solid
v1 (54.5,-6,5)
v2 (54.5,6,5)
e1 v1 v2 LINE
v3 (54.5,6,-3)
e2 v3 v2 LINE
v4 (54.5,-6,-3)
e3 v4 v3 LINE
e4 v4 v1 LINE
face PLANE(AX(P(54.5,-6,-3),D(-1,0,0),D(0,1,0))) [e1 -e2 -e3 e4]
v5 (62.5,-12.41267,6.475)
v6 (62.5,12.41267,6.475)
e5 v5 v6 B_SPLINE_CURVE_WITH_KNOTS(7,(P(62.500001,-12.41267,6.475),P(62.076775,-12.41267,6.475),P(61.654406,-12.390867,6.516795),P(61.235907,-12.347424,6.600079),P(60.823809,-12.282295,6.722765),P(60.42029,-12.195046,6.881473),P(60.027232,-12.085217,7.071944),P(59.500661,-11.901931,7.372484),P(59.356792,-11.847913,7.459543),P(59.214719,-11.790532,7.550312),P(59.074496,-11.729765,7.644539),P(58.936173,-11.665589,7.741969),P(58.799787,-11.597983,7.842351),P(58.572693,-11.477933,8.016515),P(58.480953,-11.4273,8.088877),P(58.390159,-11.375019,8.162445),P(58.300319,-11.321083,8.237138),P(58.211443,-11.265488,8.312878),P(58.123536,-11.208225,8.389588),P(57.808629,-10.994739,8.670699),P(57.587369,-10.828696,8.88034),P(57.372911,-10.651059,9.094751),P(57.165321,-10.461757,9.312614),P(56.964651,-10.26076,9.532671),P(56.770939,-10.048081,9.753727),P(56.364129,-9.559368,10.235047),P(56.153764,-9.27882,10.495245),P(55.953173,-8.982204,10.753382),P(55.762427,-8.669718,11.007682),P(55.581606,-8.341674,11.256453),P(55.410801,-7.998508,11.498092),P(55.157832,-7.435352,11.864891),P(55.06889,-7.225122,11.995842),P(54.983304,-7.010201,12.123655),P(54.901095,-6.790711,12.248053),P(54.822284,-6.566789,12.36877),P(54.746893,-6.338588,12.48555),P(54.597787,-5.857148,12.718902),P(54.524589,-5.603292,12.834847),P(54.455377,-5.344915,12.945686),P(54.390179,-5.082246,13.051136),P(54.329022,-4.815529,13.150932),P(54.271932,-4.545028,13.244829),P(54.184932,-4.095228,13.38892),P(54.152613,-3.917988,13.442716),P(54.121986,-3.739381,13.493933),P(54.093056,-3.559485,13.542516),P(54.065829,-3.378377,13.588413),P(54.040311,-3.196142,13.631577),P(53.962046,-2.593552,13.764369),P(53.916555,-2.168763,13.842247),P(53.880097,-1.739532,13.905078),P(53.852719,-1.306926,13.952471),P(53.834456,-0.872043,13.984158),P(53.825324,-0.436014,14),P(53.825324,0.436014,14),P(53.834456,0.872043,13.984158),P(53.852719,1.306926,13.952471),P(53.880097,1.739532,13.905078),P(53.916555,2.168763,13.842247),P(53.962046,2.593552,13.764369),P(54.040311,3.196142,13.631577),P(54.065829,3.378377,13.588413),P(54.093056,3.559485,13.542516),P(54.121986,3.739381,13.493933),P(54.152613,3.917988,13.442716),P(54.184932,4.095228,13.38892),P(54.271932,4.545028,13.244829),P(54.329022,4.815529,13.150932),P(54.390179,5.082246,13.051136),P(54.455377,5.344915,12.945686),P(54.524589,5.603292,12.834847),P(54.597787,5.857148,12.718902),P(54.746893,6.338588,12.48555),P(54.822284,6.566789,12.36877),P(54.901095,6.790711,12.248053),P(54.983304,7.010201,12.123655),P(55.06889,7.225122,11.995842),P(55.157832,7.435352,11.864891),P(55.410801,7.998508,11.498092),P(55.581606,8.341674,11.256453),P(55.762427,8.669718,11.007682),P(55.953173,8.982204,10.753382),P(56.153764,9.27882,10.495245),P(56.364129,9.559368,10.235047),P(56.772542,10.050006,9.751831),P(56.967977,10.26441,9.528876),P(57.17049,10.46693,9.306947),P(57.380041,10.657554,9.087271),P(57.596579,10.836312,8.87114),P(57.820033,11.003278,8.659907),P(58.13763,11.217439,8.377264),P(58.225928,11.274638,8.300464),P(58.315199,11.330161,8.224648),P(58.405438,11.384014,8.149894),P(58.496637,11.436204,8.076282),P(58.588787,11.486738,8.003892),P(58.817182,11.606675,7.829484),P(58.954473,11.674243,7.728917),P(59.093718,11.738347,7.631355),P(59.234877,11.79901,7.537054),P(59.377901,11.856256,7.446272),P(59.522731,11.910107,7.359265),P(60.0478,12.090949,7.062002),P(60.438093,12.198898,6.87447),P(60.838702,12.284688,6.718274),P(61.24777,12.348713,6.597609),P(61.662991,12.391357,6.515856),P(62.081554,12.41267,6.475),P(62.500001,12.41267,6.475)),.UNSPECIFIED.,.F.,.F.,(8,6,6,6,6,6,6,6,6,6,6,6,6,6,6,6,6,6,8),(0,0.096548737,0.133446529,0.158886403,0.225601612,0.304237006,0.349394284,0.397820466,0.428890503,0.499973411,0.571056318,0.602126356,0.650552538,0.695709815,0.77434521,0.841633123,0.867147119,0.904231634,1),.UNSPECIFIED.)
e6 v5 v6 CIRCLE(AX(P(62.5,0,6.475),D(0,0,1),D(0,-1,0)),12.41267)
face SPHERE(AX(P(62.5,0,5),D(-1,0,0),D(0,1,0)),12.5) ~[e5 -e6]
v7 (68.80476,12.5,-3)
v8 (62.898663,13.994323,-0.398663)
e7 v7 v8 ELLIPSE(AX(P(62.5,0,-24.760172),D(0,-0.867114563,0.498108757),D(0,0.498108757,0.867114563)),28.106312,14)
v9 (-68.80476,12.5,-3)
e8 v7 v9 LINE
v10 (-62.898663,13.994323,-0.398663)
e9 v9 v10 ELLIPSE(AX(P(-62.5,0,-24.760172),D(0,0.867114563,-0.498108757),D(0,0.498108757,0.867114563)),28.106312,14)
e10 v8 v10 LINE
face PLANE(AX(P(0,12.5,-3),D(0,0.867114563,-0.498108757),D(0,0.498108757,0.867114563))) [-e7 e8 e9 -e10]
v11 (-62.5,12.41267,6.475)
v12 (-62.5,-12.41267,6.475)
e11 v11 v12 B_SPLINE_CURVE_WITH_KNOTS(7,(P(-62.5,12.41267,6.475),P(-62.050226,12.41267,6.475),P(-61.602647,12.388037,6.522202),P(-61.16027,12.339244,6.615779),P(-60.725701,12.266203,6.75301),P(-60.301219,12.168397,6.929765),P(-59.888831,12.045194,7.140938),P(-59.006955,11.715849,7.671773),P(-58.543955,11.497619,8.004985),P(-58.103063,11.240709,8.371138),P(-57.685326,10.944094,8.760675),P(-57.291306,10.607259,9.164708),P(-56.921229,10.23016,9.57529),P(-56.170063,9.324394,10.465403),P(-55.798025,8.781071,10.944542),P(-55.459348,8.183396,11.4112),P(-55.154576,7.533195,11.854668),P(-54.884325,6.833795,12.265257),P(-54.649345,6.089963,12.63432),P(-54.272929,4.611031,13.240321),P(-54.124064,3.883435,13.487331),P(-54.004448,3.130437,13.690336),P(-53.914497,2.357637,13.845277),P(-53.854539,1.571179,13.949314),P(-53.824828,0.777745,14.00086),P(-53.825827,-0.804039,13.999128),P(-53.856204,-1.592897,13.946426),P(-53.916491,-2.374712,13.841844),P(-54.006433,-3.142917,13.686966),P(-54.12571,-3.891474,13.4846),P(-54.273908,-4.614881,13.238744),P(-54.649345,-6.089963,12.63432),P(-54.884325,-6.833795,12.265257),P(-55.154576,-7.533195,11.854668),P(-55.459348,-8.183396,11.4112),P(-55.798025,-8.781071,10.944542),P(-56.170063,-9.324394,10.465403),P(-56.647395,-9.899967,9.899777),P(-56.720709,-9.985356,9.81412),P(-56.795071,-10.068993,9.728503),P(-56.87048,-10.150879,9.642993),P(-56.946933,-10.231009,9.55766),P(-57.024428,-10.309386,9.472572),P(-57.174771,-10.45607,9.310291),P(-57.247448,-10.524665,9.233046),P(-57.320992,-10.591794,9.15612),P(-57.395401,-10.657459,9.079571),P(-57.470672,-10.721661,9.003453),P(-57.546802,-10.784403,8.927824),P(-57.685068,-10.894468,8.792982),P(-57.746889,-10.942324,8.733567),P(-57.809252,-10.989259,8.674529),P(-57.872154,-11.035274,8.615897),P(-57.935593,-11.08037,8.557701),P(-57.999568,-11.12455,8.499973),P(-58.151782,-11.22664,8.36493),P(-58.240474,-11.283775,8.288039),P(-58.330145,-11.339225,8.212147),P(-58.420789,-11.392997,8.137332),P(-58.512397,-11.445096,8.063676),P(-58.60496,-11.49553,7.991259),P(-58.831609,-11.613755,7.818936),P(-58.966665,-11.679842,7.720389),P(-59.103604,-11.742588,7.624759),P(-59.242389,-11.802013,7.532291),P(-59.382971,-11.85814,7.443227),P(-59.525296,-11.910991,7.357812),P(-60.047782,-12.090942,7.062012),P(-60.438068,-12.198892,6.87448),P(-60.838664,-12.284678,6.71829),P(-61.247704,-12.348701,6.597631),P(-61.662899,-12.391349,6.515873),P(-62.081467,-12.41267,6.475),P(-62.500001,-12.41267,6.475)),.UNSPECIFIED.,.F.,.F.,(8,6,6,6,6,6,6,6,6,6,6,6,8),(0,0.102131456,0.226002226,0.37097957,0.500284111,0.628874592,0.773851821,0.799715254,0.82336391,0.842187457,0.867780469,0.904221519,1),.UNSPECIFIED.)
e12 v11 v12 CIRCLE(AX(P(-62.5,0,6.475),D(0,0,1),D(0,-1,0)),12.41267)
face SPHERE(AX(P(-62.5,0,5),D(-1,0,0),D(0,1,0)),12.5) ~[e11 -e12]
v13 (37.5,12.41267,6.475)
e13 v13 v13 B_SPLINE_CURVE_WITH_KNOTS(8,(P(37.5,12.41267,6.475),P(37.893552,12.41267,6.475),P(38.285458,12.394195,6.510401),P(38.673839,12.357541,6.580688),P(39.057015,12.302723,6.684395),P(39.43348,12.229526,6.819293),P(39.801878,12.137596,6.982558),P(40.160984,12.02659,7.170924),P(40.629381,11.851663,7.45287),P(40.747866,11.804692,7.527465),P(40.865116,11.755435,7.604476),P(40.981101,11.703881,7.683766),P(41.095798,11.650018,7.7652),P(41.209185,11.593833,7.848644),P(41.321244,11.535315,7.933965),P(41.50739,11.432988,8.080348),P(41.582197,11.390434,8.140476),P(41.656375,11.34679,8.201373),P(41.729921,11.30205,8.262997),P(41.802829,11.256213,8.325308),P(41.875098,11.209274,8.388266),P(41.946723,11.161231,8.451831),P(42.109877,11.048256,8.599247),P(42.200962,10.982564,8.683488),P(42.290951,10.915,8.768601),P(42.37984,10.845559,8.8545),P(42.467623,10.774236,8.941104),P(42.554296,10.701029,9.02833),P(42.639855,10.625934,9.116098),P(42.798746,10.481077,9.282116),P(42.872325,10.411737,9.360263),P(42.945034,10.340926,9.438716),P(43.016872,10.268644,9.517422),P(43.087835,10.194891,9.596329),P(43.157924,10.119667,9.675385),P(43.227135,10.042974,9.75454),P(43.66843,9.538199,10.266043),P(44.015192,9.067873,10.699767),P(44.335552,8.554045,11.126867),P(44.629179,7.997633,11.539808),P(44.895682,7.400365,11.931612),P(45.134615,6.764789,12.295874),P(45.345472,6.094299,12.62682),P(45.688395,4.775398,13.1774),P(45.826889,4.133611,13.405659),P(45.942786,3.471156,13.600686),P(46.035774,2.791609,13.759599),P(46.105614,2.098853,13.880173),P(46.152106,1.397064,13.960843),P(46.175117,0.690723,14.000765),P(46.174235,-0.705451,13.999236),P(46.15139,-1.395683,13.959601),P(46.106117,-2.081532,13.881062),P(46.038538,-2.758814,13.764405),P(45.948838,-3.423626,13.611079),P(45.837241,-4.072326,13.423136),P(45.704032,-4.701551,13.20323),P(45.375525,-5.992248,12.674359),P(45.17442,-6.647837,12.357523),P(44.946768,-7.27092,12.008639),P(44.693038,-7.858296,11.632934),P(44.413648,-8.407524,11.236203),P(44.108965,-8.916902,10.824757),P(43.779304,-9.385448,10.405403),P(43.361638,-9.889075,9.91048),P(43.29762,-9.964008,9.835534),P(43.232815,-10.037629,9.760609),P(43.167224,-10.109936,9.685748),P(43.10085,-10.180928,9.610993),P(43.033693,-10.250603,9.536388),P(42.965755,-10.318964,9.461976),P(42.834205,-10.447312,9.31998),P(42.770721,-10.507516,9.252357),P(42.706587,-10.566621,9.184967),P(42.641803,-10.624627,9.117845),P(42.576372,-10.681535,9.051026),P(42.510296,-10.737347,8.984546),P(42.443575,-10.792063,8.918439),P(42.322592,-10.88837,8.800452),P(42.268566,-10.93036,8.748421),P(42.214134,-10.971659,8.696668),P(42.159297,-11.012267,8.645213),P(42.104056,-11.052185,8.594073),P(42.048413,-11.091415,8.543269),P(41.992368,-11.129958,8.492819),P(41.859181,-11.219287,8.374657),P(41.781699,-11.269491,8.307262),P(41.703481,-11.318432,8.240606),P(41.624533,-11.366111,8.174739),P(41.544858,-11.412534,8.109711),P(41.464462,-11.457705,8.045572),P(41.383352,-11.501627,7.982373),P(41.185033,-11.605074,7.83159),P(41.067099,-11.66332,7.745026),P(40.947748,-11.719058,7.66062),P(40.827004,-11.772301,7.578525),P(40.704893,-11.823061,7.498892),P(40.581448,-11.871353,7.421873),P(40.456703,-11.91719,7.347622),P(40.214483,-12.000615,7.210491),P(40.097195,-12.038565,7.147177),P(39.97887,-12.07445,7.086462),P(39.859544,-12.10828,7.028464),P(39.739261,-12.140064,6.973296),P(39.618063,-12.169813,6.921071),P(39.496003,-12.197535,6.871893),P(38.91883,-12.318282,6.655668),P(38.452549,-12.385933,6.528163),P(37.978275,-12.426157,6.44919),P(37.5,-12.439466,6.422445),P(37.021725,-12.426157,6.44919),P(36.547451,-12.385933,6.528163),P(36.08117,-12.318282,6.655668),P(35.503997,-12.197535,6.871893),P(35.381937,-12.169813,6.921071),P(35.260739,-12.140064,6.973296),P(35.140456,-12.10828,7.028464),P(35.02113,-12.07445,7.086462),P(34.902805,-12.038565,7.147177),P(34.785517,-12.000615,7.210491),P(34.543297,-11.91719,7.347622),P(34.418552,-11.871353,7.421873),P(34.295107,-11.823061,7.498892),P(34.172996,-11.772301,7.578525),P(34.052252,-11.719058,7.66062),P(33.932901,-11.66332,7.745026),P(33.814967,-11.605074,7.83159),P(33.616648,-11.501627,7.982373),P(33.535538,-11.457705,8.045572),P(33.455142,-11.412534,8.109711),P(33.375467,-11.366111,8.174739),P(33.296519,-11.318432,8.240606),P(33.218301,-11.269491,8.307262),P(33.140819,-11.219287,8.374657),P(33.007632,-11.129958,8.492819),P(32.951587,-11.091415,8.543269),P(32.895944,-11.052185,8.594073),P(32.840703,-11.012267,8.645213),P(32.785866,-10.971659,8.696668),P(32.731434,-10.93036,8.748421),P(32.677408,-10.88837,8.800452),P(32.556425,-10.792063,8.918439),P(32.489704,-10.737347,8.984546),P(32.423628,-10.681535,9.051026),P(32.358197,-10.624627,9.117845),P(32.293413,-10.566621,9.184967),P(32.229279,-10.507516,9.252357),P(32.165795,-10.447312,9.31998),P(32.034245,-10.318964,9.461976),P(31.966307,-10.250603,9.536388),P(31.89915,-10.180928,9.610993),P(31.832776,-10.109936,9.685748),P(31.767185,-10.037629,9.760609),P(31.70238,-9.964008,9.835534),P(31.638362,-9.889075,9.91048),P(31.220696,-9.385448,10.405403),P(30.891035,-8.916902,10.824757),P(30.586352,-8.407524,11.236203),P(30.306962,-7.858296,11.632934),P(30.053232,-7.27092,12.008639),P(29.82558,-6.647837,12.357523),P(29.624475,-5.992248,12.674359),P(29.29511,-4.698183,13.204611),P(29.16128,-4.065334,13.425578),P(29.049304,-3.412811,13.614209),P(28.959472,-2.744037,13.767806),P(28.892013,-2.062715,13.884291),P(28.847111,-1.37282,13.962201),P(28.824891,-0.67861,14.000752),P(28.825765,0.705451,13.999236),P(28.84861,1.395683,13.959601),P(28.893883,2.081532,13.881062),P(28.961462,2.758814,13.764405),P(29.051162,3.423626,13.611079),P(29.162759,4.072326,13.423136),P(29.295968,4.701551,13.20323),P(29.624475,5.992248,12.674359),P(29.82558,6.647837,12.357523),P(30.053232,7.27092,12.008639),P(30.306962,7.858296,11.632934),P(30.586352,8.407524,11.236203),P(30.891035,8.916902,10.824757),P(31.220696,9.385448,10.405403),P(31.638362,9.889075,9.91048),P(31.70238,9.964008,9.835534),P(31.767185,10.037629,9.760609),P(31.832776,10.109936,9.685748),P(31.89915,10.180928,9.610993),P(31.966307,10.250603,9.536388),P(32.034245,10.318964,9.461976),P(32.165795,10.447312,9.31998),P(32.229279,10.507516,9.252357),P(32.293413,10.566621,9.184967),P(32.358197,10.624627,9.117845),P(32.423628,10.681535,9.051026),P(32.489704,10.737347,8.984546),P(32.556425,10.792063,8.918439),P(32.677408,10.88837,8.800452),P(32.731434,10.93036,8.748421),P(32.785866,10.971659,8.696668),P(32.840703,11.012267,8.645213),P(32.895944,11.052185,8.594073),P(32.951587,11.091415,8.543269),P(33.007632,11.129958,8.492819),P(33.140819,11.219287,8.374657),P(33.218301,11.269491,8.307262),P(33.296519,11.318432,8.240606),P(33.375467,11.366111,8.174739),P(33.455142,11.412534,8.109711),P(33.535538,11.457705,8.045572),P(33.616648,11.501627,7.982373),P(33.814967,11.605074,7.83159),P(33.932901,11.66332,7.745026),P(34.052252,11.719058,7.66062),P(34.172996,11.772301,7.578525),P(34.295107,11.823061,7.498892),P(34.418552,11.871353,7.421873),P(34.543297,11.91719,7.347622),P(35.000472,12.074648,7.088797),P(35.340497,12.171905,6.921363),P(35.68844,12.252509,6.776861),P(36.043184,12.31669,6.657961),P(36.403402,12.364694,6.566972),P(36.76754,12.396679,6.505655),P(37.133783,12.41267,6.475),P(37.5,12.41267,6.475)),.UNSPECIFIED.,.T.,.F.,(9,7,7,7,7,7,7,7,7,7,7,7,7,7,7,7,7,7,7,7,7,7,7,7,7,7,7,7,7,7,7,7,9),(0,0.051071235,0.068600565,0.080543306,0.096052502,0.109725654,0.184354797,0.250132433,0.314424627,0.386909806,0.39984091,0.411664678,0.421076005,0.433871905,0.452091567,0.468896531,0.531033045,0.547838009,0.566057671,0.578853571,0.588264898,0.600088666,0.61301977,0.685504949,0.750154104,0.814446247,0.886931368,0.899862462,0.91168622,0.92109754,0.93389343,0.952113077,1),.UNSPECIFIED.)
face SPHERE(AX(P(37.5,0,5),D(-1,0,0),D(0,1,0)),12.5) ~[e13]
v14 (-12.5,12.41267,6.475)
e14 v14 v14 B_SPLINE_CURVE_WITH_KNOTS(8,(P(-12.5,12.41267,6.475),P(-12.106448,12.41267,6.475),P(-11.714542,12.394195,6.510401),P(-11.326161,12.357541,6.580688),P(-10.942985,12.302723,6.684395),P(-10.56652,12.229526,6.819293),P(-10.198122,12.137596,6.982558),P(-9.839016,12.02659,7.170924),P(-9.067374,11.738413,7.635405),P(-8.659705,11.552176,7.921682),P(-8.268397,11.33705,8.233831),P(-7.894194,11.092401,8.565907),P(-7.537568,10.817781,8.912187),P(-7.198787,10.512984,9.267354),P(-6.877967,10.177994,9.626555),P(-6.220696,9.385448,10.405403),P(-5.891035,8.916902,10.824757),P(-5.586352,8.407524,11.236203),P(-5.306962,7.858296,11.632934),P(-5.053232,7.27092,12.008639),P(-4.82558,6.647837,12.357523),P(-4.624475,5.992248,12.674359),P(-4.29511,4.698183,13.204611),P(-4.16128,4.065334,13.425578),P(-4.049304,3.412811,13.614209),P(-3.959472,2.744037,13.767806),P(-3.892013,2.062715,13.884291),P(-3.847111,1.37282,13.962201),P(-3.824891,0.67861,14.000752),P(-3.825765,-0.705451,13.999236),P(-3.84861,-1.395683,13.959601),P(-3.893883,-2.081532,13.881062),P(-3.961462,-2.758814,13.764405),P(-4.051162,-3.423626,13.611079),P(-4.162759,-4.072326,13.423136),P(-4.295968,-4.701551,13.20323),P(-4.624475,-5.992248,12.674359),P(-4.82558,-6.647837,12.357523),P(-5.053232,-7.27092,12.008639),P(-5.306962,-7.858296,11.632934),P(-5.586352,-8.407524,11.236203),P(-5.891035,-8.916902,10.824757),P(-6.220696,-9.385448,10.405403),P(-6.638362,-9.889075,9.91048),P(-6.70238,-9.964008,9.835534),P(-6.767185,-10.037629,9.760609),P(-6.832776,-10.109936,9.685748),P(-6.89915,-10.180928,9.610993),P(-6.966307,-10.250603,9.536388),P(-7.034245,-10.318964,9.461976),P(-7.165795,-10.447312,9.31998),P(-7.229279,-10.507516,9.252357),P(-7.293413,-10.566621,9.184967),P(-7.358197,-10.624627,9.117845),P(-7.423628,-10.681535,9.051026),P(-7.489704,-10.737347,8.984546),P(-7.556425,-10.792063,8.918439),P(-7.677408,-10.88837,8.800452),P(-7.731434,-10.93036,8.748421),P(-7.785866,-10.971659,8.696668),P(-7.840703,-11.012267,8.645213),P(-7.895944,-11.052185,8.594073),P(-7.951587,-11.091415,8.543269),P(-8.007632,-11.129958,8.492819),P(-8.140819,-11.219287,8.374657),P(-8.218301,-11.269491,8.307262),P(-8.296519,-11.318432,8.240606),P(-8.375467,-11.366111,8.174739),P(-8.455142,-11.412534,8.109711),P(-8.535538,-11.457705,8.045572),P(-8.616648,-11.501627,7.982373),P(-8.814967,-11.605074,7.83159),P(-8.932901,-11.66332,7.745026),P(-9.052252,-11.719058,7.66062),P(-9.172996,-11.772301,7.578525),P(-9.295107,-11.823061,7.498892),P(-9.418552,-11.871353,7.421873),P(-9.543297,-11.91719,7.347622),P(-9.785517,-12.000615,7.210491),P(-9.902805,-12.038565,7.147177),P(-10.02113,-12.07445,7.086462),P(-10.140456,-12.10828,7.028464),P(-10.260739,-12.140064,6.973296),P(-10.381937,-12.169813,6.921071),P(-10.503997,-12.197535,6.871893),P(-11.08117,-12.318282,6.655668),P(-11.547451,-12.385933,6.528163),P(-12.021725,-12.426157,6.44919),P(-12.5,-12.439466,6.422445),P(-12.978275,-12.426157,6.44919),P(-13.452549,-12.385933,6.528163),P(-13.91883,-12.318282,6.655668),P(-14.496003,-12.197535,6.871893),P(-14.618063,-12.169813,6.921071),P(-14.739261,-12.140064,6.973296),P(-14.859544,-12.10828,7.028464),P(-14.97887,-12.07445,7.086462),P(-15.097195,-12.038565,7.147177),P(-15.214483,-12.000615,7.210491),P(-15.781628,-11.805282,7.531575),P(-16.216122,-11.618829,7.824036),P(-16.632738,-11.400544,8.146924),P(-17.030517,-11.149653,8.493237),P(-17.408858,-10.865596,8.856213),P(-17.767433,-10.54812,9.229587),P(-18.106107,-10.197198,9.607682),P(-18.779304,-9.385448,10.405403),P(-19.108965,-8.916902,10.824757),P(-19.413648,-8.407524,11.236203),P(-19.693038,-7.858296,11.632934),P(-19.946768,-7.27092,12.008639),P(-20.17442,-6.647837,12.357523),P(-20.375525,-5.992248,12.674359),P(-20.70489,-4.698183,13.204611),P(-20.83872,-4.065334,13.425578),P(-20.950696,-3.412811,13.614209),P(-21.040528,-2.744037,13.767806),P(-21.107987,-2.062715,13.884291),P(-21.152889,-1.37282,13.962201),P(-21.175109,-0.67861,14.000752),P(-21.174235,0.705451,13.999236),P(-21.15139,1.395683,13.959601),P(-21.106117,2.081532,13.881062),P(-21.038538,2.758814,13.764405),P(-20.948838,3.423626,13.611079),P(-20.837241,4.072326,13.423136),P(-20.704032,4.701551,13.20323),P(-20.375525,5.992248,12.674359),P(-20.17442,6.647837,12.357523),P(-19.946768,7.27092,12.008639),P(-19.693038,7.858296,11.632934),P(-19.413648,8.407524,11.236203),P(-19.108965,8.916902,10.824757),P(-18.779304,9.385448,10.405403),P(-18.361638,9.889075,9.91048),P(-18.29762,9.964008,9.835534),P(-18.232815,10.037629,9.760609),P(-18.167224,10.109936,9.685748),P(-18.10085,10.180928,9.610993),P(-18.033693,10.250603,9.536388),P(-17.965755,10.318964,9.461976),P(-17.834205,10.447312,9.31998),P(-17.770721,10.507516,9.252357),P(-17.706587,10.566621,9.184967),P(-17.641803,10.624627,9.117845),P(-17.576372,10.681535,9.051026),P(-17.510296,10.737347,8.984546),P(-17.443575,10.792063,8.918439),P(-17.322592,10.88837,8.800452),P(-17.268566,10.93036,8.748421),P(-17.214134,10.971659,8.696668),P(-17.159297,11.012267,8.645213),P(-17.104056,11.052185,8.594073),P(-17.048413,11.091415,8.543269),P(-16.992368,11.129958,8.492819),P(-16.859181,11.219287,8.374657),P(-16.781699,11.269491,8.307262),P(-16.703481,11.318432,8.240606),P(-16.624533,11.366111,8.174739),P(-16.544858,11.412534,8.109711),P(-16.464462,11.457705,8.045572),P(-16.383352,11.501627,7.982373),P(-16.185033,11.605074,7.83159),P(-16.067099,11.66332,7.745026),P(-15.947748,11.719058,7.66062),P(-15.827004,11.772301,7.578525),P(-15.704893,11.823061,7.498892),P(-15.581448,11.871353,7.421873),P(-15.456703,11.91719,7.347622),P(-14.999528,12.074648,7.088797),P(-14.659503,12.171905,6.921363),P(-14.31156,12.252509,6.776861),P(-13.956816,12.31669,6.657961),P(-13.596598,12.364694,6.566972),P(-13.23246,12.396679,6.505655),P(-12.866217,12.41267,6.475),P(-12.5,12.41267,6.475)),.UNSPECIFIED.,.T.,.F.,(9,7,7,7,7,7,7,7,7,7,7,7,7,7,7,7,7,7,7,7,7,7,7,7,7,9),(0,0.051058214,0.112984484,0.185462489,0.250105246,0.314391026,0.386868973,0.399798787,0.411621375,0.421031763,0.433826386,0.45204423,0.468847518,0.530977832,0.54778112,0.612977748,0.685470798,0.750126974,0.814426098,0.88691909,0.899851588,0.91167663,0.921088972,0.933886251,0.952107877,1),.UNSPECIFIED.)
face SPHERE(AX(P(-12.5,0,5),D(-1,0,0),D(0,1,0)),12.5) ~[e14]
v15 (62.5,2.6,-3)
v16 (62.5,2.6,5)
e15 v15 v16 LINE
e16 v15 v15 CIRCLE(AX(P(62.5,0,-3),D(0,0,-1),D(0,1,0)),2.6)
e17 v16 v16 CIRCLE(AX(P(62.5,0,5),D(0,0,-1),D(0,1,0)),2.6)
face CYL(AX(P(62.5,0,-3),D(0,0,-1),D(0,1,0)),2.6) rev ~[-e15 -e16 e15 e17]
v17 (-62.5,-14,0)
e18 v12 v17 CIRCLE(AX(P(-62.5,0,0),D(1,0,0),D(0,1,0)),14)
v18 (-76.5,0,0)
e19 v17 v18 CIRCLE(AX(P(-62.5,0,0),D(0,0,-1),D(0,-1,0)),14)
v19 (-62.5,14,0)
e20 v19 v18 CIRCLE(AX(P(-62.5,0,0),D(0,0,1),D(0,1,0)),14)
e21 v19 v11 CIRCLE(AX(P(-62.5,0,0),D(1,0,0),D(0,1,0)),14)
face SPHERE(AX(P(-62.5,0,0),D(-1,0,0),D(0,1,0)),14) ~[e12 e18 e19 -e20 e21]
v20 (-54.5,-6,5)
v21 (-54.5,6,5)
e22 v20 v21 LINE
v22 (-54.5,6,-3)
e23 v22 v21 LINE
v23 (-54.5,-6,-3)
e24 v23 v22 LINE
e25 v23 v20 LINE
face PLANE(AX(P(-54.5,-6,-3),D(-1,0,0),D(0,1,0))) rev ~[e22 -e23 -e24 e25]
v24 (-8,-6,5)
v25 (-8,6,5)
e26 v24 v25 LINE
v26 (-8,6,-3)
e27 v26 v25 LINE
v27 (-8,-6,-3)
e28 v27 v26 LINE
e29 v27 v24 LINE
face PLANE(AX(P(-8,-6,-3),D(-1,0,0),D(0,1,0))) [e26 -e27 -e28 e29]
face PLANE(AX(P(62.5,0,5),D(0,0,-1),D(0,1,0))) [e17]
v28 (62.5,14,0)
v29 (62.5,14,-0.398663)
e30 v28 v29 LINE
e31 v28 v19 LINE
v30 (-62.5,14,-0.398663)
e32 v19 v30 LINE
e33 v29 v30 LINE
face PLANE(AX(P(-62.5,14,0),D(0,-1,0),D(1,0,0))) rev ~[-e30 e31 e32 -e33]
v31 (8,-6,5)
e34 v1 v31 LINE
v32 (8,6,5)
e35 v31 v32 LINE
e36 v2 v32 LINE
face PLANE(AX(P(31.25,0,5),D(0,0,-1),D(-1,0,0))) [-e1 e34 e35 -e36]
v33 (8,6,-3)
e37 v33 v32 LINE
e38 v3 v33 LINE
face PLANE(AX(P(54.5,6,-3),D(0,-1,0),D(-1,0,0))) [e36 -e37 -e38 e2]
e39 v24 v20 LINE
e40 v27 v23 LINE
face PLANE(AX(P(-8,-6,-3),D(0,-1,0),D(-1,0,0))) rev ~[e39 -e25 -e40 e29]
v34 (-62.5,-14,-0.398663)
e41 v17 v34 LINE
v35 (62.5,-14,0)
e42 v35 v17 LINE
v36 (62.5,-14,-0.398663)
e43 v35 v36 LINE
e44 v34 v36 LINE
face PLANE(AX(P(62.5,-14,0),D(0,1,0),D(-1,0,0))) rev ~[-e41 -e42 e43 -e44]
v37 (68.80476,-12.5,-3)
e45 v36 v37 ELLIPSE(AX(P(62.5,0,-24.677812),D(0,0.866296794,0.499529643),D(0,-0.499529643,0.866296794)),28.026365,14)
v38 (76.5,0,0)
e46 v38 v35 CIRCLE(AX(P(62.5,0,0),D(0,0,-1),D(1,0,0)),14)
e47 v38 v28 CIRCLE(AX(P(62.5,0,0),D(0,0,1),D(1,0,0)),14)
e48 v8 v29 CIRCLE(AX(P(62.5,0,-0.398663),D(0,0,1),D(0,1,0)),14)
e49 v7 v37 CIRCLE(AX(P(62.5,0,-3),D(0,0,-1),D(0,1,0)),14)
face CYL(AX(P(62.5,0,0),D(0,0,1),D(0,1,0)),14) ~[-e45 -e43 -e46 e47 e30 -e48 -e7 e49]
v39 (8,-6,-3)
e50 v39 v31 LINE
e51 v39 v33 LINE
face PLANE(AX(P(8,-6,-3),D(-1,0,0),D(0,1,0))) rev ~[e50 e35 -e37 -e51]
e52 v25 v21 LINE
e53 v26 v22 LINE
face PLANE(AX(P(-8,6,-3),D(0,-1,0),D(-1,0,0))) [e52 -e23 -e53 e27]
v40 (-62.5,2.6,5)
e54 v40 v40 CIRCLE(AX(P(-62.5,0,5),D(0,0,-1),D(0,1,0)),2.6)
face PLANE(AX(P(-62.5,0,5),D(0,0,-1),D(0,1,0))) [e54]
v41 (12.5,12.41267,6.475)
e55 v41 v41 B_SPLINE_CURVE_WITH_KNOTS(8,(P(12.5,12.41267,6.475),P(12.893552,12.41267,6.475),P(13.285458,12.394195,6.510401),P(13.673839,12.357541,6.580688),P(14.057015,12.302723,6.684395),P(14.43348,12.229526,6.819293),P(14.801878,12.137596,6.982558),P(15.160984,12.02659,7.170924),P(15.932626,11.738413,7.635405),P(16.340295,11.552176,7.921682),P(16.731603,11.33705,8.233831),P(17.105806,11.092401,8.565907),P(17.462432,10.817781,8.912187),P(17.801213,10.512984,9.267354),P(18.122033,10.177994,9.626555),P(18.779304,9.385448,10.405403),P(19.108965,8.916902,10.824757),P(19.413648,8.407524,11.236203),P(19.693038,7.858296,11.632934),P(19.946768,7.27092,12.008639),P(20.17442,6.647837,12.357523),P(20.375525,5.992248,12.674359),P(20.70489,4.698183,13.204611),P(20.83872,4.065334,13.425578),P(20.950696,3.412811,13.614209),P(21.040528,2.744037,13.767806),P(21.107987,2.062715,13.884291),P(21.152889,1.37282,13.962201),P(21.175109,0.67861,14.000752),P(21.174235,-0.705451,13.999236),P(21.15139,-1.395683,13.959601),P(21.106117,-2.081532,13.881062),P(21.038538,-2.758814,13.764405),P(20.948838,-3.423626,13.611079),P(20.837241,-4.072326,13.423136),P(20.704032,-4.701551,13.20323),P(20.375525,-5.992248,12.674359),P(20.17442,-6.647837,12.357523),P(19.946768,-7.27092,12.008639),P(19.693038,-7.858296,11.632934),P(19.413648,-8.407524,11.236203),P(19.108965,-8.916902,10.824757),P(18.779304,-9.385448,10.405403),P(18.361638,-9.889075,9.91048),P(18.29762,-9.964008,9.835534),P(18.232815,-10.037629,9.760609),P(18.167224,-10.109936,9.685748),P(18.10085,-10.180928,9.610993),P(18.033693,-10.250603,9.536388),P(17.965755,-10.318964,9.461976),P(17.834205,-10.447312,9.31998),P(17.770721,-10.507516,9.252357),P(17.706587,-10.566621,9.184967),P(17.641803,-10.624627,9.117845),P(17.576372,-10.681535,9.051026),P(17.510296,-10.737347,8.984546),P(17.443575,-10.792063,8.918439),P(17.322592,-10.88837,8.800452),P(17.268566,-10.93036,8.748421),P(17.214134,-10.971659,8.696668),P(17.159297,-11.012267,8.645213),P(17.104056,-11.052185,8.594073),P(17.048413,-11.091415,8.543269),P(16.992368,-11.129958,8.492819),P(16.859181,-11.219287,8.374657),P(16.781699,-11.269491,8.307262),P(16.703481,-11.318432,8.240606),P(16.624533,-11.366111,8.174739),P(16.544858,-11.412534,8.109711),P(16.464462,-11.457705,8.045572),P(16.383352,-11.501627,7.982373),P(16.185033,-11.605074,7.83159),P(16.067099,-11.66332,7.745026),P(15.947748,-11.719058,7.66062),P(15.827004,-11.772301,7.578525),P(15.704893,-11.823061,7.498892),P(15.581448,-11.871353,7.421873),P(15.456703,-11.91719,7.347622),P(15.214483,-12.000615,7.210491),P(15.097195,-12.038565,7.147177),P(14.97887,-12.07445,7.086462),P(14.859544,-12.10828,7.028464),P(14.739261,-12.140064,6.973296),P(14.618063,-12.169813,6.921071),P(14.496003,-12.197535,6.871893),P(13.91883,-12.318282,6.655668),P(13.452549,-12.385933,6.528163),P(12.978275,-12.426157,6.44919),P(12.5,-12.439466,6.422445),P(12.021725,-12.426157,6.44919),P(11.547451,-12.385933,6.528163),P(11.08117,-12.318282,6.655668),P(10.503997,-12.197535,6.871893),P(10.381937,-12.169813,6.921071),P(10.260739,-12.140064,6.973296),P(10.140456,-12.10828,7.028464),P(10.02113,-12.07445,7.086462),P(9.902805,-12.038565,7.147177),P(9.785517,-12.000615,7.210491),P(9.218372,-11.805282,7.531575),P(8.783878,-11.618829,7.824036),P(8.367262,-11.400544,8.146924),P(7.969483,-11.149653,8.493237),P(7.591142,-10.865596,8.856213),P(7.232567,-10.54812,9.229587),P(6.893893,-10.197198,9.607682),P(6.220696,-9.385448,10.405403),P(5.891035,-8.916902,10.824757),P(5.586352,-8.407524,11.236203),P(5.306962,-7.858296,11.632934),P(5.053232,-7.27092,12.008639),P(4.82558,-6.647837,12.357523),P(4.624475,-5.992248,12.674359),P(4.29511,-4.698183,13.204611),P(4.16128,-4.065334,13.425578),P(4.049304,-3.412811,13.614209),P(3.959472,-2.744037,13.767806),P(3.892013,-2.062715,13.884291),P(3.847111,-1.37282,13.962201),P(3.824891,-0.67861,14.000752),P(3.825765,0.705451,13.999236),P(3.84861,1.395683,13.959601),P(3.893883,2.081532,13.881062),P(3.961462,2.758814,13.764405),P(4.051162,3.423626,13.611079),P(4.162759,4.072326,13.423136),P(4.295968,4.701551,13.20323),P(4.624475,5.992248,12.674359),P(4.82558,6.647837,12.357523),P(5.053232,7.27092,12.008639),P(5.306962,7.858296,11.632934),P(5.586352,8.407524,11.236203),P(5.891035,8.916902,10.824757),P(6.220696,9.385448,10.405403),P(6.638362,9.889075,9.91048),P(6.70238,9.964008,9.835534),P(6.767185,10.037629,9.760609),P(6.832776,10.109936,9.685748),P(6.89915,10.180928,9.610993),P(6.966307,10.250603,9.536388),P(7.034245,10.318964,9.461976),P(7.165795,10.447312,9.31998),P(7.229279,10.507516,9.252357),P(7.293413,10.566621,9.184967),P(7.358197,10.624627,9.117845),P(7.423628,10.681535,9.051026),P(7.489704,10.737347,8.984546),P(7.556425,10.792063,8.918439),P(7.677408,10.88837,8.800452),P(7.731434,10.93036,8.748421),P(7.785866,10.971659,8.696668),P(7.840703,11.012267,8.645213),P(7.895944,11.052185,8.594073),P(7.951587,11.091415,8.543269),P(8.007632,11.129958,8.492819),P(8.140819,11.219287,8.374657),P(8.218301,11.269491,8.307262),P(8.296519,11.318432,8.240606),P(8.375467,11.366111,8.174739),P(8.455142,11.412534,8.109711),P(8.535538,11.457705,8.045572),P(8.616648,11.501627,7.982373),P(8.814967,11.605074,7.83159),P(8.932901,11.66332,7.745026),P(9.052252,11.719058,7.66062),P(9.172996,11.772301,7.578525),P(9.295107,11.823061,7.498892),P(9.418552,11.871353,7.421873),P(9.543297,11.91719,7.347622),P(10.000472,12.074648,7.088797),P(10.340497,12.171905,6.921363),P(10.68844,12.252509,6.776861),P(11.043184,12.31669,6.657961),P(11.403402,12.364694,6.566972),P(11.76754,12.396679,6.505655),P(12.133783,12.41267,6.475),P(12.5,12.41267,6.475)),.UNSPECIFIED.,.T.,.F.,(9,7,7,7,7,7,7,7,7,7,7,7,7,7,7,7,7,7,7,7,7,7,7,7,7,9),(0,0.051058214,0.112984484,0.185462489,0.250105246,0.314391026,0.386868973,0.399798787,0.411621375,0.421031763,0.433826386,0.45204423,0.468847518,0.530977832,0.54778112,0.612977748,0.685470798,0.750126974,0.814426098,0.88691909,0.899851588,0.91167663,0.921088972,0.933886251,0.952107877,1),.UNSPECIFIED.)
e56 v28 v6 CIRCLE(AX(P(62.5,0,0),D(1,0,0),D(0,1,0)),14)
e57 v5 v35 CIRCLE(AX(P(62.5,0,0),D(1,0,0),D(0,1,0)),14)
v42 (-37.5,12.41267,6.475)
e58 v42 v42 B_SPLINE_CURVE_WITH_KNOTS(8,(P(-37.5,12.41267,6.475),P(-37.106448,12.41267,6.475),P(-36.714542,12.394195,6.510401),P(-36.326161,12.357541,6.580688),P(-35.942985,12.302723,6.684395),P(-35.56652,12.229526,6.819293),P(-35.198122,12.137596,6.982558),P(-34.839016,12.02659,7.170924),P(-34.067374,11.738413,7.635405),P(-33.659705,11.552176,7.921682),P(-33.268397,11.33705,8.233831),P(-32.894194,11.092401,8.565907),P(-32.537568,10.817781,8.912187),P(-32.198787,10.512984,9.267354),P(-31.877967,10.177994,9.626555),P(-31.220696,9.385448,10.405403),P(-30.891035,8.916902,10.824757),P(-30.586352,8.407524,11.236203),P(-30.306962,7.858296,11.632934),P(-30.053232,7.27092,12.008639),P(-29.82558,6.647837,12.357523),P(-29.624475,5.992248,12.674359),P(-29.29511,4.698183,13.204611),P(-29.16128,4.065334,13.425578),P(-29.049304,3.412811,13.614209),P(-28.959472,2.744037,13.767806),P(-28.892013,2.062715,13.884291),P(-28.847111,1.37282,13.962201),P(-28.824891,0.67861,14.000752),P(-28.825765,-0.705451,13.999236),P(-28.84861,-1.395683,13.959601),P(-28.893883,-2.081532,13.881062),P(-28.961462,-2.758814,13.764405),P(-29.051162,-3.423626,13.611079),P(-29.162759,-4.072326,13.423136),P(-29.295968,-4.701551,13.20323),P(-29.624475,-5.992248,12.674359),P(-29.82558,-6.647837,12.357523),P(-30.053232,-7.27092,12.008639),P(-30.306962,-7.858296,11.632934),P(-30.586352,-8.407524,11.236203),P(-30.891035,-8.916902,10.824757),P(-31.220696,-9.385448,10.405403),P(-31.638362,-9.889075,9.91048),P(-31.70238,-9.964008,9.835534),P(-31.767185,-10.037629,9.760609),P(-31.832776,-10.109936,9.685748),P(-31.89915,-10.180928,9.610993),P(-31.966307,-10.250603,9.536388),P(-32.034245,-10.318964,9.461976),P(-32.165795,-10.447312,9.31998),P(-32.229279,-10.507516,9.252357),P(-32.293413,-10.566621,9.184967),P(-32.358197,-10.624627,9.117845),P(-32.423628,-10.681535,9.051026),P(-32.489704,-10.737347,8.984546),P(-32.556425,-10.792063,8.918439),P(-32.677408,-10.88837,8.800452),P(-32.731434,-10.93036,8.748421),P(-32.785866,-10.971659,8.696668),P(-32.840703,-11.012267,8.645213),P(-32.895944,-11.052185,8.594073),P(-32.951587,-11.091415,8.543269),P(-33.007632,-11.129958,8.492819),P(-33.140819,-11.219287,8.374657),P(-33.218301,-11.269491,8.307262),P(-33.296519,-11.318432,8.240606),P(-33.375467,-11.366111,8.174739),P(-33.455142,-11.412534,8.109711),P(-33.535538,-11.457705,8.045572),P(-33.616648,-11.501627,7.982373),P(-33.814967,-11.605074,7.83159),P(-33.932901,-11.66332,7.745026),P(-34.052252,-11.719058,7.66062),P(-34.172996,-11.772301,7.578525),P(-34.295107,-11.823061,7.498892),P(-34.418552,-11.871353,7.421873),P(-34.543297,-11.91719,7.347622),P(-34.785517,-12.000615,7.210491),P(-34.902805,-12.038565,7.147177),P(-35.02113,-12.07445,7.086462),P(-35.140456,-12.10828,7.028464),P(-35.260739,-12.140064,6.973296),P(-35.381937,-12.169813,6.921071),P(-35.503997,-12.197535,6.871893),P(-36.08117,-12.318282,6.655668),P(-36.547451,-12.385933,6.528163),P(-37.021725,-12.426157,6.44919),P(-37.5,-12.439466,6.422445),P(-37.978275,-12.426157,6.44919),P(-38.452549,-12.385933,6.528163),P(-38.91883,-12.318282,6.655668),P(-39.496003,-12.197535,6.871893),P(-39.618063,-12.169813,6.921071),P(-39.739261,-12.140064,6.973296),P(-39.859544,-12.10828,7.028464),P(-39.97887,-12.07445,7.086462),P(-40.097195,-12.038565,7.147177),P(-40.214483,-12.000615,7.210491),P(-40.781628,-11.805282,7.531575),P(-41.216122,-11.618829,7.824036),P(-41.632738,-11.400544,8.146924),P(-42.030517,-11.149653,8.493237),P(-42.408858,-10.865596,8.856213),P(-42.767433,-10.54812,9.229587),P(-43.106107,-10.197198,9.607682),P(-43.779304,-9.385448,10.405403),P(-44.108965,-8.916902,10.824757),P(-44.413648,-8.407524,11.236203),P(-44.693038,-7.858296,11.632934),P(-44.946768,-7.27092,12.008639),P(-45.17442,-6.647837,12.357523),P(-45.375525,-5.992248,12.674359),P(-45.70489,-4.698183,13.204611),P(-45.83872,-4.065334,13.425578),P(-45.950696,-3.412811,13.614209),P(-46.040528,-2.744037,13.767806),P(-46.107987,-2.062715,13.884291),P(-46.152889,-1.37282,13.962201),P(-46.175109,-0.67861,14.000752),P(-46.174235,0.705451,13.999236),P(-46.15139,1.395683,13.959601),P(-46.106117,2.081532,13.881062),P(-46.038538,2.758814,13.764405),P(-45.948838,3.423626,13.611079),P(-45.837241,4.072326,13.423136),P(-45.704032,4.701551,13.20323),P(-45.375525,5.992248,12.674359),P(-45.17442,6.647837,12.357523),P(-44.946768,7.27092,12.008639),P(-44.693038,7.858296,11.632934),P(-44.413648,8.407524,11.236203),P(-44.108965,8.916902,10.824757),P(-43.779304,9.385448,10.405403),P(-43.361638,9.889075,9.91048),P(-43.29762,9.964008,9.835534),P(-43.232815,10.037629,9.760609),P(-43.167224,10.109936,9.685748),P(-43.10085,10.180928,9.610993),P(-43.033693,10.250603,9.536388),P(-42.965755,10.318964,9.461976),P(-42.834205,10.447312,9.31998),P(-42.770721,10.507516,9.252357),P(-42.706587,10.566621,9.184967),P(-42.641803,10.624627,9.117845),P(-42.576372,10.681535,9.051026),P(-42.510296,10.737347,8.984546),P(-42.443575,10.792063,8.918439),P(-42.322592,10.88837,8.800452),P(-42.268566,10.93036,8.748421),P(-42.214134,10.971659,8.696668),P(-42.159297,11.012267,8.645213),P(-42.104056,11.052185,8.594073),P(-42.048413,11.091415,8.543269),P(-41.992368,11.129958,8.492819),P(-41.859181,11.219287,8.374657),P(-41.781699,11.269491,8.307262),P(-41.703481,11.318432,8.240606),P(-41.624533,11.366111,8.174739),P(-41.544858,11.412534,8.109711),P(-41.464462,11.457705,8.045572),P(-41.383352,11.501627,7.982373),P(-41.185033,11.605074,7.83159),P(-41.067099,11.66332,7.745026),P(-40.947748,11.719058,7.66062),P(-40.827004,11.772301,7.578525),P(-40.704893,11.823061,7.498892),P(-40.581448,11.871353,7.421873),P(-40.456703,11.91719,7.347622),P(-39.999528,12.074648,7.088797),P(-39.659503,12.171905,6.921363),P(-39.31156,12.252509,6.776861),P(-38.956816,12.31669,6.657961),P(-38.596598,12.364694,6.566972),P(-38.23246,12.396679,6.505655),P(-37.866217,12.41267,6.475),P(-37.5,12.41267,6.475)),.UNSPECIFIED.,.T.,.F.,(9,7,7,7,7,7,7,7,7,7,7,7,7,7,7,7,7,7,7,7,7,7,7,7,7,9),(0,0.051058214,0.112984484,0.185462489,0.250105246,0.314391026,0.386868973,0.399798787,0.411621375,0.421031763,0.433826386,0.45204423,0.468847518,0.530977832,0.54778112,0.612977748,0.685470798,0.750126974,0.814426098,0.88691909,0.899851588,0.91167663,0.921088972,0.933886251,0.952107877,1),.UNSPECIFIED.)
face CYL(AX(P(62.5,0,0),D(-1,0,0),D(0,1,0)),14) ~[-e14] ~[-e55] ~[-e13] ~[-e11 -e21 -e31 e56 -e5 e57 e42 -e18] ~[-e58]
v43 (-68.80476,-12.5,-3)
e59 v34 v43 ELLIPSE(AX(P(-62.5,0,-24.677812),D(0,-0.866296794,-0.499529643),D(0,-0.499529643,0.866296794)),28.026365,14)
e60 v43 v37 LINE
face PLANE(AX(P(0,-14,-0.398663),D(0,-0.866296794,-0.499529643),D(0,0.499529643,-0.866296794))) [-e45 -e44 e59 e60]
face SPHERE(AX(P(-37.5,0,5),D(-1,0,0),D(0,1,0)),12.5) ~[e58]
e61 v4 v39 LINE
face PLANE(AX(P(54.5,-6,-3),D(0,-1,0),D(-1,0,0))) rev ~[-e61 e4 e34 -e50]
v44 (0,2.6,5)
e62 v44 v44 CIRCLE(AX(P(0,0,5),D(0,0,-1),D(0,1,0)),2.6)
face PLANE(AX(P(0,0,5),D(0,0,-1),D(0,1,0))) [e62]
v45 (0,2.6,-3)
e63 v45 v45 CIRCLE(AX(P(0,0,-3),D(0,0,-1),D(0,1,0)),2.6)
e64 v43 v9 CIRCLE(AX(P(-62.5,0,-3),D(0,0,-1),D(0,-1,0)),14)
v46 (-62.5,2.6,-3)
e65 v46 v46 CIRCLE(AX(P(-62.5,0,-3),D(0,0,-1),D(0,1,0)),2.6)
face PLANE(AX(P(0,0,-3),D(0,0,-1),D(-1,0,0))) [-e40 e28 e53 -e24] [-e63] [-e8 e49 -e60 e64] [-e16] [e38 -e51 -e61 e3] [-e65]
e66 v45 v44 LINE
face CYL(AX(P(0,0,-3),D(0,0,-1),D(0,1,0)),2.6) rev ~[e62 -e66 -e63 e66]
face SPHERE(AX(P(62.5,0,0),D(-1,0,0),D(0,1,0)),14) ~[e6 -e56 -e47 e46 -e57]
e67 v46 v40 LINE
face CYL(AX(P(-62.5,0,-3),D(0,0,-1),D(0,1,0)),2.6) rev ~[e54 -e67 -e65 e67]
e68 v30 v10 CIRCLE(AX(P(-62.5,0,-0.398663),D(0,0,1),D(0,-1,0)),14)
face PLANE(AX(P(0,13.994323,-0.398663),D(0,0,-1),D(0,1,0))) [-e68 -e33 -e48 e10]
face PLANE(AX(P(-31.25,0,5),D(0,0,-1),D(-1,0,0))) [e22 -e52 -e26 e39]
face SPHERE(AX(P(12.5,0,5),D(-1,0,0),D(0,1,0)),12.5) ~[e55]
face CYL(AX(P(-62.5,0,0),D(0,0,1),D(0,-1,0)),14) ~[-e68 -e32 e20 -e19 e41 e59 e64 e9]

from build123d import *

# Parameters (mm, degrees)
REVOLVE1_ANGLE          = 180
REVOLVE2_ANGLE          = 180
LPATTERN1_COUNT         = 6
LPATTERN1_PITCH         = 25
BOSS_EXTRUDE1_DEPTH     = 3
CUT_EXTRUDE4_DEPTH      = 77.5
CUT_EXTRUDE4_DEPTH_BACK = 77.5
SKETCH6_R               = 2.6
CUT_EXTRUDE5_DEPTH      = 8
SKETCH7_W               = 46.5
SKETCH7_H               = 12
CUT_EXTRUDE6_DEPTH      = 8


with BuildPart() as part:
    # Sketch1 → Revolve1 (revolve)
    with BuildSketch(Plane.XY):
        with BuildLine():
            Line((62.5, 14), (-62.5, 14))
            ThreePointArc((-62.5, 14), (-72.399494937, 9.899494937), (-76.5, 0))
            Line((-76.5, 0), (76.5, 0))
            ThreePointArc((76.5, 0), (72.399494937, 9.899494937), (62.5, 14))
        make_face()
    revolve(axis=Axis((-76.5, 0, 0), (1, 0, 0)), revolution_arc=REVOLVE1_ANGLE)

    # Sketch3 → Revolve2 (revolve)
    with BuildSketch(Plane.XY.offset(5)):
        with BuildLine():
            Line((-75, 0), (-50, 0))
            ThreePointArc((-50, 0), (-62.5, 12.5), (-75, 0))
        make_face()
    revolve2 = revolve(axis=Axis((-75, 0, 5), (1, 0, 0)), revolution_arc=REVOLVE2_ANGLE)

    # LPattern1: Revolve2 ×6
    with Locations(*[(i * LPATTERN1_PITCH, 0, 0) for i in range(1, LPATTERN1_COUNT)]):
        add(revolve2)

    # Sketch4 → Boss-Extrude1 (add)
    with BuildSketch(Plane(origin=(0, 0, 0), x_dir=(-1, 0, 0), z_dir=(0, 0, -1))):
        with BuildLine():
            Line((-62.5, -14), (62.5, -14))
            ThreePointArc((62.5, -14), (76.5, 0), (62.5, 14))
            Line((62.5, 14), (-62.5, 14))
            ThreePointArc((-62.5, 14), (-76.5, 0), (-62.5, -14))
        make_face()
    extrude(amount=BOSS_EXTRUDE1_DEPTH)

    # Sketch5 → Cut-Extrude4 (cut, two sides)
    with BuildSketch(Plane(origin=(0, 0, 0), x_dir=(0, 0, -1), z_dir=(1, 0, 0))) as cut_extrude4_sk:
        Polygon((0.398662505, 13.994322713), (0.398662505, 14.646589276), (3, 14.646589276), (3, 12.5), align=None)
        Polygon((3, -14), (0.398662505, -14), (3, -12.5), align=None)
    extrude(amount=CUT_EXTRUDE4_DEPTH, mode=Mode.SUBTRACT)
    extrude(cut_extrude4_sk.sketch, amount=-CUT_EXTRUDE4_DEPTH_BACK, mode=Mode.SUBTRACT)

    # Sketch6 → Cut-Extrude5 (cut)
    with BuildSketch(Plane(origin=(0, 0, -3), x_dir=(-1, 0, 0), z_dir=(0, 0, -1))):
        with Locations(Location((0, 0, 0), (0, 0, 90))):  # turned: the seam where the file's is
            Circle(SKETCH6_R)
        with Locations(Location((62.5, 0, 0), (0, 0, 90))):  # turned: the seam where the file's is
            Circle(SKETCH6_R)
        with Locations(Location((-62.5, 0, 0), (0, 0, 90))):  # turned: the seam where the file's is
            Circle(SKETCH6_R)
    extrude(amount=-CUT_EXTRUDE5_DEPTH, mode=Mode.SUBTRACT)

    # Sketch7 → Cut-Extrude6 (cut)
    with BuildSketch(Plane(origin=(0, 0, -3), x_dir=(-1, 0, 0), z_dir=(0, 0, -1))):
        with Locations((-31.25, 0)):
            Rectangle(SKETCH7_W, SKETCH7_H)
        with Locations((31.25, 0)):
            Rectangle(SKETCH7_W, SKETCH7_H)
    extrude(amount=-CUT_EXTRUDE6_DEPTH, mode=Mode.SUBTRACT)


solid = part.part
